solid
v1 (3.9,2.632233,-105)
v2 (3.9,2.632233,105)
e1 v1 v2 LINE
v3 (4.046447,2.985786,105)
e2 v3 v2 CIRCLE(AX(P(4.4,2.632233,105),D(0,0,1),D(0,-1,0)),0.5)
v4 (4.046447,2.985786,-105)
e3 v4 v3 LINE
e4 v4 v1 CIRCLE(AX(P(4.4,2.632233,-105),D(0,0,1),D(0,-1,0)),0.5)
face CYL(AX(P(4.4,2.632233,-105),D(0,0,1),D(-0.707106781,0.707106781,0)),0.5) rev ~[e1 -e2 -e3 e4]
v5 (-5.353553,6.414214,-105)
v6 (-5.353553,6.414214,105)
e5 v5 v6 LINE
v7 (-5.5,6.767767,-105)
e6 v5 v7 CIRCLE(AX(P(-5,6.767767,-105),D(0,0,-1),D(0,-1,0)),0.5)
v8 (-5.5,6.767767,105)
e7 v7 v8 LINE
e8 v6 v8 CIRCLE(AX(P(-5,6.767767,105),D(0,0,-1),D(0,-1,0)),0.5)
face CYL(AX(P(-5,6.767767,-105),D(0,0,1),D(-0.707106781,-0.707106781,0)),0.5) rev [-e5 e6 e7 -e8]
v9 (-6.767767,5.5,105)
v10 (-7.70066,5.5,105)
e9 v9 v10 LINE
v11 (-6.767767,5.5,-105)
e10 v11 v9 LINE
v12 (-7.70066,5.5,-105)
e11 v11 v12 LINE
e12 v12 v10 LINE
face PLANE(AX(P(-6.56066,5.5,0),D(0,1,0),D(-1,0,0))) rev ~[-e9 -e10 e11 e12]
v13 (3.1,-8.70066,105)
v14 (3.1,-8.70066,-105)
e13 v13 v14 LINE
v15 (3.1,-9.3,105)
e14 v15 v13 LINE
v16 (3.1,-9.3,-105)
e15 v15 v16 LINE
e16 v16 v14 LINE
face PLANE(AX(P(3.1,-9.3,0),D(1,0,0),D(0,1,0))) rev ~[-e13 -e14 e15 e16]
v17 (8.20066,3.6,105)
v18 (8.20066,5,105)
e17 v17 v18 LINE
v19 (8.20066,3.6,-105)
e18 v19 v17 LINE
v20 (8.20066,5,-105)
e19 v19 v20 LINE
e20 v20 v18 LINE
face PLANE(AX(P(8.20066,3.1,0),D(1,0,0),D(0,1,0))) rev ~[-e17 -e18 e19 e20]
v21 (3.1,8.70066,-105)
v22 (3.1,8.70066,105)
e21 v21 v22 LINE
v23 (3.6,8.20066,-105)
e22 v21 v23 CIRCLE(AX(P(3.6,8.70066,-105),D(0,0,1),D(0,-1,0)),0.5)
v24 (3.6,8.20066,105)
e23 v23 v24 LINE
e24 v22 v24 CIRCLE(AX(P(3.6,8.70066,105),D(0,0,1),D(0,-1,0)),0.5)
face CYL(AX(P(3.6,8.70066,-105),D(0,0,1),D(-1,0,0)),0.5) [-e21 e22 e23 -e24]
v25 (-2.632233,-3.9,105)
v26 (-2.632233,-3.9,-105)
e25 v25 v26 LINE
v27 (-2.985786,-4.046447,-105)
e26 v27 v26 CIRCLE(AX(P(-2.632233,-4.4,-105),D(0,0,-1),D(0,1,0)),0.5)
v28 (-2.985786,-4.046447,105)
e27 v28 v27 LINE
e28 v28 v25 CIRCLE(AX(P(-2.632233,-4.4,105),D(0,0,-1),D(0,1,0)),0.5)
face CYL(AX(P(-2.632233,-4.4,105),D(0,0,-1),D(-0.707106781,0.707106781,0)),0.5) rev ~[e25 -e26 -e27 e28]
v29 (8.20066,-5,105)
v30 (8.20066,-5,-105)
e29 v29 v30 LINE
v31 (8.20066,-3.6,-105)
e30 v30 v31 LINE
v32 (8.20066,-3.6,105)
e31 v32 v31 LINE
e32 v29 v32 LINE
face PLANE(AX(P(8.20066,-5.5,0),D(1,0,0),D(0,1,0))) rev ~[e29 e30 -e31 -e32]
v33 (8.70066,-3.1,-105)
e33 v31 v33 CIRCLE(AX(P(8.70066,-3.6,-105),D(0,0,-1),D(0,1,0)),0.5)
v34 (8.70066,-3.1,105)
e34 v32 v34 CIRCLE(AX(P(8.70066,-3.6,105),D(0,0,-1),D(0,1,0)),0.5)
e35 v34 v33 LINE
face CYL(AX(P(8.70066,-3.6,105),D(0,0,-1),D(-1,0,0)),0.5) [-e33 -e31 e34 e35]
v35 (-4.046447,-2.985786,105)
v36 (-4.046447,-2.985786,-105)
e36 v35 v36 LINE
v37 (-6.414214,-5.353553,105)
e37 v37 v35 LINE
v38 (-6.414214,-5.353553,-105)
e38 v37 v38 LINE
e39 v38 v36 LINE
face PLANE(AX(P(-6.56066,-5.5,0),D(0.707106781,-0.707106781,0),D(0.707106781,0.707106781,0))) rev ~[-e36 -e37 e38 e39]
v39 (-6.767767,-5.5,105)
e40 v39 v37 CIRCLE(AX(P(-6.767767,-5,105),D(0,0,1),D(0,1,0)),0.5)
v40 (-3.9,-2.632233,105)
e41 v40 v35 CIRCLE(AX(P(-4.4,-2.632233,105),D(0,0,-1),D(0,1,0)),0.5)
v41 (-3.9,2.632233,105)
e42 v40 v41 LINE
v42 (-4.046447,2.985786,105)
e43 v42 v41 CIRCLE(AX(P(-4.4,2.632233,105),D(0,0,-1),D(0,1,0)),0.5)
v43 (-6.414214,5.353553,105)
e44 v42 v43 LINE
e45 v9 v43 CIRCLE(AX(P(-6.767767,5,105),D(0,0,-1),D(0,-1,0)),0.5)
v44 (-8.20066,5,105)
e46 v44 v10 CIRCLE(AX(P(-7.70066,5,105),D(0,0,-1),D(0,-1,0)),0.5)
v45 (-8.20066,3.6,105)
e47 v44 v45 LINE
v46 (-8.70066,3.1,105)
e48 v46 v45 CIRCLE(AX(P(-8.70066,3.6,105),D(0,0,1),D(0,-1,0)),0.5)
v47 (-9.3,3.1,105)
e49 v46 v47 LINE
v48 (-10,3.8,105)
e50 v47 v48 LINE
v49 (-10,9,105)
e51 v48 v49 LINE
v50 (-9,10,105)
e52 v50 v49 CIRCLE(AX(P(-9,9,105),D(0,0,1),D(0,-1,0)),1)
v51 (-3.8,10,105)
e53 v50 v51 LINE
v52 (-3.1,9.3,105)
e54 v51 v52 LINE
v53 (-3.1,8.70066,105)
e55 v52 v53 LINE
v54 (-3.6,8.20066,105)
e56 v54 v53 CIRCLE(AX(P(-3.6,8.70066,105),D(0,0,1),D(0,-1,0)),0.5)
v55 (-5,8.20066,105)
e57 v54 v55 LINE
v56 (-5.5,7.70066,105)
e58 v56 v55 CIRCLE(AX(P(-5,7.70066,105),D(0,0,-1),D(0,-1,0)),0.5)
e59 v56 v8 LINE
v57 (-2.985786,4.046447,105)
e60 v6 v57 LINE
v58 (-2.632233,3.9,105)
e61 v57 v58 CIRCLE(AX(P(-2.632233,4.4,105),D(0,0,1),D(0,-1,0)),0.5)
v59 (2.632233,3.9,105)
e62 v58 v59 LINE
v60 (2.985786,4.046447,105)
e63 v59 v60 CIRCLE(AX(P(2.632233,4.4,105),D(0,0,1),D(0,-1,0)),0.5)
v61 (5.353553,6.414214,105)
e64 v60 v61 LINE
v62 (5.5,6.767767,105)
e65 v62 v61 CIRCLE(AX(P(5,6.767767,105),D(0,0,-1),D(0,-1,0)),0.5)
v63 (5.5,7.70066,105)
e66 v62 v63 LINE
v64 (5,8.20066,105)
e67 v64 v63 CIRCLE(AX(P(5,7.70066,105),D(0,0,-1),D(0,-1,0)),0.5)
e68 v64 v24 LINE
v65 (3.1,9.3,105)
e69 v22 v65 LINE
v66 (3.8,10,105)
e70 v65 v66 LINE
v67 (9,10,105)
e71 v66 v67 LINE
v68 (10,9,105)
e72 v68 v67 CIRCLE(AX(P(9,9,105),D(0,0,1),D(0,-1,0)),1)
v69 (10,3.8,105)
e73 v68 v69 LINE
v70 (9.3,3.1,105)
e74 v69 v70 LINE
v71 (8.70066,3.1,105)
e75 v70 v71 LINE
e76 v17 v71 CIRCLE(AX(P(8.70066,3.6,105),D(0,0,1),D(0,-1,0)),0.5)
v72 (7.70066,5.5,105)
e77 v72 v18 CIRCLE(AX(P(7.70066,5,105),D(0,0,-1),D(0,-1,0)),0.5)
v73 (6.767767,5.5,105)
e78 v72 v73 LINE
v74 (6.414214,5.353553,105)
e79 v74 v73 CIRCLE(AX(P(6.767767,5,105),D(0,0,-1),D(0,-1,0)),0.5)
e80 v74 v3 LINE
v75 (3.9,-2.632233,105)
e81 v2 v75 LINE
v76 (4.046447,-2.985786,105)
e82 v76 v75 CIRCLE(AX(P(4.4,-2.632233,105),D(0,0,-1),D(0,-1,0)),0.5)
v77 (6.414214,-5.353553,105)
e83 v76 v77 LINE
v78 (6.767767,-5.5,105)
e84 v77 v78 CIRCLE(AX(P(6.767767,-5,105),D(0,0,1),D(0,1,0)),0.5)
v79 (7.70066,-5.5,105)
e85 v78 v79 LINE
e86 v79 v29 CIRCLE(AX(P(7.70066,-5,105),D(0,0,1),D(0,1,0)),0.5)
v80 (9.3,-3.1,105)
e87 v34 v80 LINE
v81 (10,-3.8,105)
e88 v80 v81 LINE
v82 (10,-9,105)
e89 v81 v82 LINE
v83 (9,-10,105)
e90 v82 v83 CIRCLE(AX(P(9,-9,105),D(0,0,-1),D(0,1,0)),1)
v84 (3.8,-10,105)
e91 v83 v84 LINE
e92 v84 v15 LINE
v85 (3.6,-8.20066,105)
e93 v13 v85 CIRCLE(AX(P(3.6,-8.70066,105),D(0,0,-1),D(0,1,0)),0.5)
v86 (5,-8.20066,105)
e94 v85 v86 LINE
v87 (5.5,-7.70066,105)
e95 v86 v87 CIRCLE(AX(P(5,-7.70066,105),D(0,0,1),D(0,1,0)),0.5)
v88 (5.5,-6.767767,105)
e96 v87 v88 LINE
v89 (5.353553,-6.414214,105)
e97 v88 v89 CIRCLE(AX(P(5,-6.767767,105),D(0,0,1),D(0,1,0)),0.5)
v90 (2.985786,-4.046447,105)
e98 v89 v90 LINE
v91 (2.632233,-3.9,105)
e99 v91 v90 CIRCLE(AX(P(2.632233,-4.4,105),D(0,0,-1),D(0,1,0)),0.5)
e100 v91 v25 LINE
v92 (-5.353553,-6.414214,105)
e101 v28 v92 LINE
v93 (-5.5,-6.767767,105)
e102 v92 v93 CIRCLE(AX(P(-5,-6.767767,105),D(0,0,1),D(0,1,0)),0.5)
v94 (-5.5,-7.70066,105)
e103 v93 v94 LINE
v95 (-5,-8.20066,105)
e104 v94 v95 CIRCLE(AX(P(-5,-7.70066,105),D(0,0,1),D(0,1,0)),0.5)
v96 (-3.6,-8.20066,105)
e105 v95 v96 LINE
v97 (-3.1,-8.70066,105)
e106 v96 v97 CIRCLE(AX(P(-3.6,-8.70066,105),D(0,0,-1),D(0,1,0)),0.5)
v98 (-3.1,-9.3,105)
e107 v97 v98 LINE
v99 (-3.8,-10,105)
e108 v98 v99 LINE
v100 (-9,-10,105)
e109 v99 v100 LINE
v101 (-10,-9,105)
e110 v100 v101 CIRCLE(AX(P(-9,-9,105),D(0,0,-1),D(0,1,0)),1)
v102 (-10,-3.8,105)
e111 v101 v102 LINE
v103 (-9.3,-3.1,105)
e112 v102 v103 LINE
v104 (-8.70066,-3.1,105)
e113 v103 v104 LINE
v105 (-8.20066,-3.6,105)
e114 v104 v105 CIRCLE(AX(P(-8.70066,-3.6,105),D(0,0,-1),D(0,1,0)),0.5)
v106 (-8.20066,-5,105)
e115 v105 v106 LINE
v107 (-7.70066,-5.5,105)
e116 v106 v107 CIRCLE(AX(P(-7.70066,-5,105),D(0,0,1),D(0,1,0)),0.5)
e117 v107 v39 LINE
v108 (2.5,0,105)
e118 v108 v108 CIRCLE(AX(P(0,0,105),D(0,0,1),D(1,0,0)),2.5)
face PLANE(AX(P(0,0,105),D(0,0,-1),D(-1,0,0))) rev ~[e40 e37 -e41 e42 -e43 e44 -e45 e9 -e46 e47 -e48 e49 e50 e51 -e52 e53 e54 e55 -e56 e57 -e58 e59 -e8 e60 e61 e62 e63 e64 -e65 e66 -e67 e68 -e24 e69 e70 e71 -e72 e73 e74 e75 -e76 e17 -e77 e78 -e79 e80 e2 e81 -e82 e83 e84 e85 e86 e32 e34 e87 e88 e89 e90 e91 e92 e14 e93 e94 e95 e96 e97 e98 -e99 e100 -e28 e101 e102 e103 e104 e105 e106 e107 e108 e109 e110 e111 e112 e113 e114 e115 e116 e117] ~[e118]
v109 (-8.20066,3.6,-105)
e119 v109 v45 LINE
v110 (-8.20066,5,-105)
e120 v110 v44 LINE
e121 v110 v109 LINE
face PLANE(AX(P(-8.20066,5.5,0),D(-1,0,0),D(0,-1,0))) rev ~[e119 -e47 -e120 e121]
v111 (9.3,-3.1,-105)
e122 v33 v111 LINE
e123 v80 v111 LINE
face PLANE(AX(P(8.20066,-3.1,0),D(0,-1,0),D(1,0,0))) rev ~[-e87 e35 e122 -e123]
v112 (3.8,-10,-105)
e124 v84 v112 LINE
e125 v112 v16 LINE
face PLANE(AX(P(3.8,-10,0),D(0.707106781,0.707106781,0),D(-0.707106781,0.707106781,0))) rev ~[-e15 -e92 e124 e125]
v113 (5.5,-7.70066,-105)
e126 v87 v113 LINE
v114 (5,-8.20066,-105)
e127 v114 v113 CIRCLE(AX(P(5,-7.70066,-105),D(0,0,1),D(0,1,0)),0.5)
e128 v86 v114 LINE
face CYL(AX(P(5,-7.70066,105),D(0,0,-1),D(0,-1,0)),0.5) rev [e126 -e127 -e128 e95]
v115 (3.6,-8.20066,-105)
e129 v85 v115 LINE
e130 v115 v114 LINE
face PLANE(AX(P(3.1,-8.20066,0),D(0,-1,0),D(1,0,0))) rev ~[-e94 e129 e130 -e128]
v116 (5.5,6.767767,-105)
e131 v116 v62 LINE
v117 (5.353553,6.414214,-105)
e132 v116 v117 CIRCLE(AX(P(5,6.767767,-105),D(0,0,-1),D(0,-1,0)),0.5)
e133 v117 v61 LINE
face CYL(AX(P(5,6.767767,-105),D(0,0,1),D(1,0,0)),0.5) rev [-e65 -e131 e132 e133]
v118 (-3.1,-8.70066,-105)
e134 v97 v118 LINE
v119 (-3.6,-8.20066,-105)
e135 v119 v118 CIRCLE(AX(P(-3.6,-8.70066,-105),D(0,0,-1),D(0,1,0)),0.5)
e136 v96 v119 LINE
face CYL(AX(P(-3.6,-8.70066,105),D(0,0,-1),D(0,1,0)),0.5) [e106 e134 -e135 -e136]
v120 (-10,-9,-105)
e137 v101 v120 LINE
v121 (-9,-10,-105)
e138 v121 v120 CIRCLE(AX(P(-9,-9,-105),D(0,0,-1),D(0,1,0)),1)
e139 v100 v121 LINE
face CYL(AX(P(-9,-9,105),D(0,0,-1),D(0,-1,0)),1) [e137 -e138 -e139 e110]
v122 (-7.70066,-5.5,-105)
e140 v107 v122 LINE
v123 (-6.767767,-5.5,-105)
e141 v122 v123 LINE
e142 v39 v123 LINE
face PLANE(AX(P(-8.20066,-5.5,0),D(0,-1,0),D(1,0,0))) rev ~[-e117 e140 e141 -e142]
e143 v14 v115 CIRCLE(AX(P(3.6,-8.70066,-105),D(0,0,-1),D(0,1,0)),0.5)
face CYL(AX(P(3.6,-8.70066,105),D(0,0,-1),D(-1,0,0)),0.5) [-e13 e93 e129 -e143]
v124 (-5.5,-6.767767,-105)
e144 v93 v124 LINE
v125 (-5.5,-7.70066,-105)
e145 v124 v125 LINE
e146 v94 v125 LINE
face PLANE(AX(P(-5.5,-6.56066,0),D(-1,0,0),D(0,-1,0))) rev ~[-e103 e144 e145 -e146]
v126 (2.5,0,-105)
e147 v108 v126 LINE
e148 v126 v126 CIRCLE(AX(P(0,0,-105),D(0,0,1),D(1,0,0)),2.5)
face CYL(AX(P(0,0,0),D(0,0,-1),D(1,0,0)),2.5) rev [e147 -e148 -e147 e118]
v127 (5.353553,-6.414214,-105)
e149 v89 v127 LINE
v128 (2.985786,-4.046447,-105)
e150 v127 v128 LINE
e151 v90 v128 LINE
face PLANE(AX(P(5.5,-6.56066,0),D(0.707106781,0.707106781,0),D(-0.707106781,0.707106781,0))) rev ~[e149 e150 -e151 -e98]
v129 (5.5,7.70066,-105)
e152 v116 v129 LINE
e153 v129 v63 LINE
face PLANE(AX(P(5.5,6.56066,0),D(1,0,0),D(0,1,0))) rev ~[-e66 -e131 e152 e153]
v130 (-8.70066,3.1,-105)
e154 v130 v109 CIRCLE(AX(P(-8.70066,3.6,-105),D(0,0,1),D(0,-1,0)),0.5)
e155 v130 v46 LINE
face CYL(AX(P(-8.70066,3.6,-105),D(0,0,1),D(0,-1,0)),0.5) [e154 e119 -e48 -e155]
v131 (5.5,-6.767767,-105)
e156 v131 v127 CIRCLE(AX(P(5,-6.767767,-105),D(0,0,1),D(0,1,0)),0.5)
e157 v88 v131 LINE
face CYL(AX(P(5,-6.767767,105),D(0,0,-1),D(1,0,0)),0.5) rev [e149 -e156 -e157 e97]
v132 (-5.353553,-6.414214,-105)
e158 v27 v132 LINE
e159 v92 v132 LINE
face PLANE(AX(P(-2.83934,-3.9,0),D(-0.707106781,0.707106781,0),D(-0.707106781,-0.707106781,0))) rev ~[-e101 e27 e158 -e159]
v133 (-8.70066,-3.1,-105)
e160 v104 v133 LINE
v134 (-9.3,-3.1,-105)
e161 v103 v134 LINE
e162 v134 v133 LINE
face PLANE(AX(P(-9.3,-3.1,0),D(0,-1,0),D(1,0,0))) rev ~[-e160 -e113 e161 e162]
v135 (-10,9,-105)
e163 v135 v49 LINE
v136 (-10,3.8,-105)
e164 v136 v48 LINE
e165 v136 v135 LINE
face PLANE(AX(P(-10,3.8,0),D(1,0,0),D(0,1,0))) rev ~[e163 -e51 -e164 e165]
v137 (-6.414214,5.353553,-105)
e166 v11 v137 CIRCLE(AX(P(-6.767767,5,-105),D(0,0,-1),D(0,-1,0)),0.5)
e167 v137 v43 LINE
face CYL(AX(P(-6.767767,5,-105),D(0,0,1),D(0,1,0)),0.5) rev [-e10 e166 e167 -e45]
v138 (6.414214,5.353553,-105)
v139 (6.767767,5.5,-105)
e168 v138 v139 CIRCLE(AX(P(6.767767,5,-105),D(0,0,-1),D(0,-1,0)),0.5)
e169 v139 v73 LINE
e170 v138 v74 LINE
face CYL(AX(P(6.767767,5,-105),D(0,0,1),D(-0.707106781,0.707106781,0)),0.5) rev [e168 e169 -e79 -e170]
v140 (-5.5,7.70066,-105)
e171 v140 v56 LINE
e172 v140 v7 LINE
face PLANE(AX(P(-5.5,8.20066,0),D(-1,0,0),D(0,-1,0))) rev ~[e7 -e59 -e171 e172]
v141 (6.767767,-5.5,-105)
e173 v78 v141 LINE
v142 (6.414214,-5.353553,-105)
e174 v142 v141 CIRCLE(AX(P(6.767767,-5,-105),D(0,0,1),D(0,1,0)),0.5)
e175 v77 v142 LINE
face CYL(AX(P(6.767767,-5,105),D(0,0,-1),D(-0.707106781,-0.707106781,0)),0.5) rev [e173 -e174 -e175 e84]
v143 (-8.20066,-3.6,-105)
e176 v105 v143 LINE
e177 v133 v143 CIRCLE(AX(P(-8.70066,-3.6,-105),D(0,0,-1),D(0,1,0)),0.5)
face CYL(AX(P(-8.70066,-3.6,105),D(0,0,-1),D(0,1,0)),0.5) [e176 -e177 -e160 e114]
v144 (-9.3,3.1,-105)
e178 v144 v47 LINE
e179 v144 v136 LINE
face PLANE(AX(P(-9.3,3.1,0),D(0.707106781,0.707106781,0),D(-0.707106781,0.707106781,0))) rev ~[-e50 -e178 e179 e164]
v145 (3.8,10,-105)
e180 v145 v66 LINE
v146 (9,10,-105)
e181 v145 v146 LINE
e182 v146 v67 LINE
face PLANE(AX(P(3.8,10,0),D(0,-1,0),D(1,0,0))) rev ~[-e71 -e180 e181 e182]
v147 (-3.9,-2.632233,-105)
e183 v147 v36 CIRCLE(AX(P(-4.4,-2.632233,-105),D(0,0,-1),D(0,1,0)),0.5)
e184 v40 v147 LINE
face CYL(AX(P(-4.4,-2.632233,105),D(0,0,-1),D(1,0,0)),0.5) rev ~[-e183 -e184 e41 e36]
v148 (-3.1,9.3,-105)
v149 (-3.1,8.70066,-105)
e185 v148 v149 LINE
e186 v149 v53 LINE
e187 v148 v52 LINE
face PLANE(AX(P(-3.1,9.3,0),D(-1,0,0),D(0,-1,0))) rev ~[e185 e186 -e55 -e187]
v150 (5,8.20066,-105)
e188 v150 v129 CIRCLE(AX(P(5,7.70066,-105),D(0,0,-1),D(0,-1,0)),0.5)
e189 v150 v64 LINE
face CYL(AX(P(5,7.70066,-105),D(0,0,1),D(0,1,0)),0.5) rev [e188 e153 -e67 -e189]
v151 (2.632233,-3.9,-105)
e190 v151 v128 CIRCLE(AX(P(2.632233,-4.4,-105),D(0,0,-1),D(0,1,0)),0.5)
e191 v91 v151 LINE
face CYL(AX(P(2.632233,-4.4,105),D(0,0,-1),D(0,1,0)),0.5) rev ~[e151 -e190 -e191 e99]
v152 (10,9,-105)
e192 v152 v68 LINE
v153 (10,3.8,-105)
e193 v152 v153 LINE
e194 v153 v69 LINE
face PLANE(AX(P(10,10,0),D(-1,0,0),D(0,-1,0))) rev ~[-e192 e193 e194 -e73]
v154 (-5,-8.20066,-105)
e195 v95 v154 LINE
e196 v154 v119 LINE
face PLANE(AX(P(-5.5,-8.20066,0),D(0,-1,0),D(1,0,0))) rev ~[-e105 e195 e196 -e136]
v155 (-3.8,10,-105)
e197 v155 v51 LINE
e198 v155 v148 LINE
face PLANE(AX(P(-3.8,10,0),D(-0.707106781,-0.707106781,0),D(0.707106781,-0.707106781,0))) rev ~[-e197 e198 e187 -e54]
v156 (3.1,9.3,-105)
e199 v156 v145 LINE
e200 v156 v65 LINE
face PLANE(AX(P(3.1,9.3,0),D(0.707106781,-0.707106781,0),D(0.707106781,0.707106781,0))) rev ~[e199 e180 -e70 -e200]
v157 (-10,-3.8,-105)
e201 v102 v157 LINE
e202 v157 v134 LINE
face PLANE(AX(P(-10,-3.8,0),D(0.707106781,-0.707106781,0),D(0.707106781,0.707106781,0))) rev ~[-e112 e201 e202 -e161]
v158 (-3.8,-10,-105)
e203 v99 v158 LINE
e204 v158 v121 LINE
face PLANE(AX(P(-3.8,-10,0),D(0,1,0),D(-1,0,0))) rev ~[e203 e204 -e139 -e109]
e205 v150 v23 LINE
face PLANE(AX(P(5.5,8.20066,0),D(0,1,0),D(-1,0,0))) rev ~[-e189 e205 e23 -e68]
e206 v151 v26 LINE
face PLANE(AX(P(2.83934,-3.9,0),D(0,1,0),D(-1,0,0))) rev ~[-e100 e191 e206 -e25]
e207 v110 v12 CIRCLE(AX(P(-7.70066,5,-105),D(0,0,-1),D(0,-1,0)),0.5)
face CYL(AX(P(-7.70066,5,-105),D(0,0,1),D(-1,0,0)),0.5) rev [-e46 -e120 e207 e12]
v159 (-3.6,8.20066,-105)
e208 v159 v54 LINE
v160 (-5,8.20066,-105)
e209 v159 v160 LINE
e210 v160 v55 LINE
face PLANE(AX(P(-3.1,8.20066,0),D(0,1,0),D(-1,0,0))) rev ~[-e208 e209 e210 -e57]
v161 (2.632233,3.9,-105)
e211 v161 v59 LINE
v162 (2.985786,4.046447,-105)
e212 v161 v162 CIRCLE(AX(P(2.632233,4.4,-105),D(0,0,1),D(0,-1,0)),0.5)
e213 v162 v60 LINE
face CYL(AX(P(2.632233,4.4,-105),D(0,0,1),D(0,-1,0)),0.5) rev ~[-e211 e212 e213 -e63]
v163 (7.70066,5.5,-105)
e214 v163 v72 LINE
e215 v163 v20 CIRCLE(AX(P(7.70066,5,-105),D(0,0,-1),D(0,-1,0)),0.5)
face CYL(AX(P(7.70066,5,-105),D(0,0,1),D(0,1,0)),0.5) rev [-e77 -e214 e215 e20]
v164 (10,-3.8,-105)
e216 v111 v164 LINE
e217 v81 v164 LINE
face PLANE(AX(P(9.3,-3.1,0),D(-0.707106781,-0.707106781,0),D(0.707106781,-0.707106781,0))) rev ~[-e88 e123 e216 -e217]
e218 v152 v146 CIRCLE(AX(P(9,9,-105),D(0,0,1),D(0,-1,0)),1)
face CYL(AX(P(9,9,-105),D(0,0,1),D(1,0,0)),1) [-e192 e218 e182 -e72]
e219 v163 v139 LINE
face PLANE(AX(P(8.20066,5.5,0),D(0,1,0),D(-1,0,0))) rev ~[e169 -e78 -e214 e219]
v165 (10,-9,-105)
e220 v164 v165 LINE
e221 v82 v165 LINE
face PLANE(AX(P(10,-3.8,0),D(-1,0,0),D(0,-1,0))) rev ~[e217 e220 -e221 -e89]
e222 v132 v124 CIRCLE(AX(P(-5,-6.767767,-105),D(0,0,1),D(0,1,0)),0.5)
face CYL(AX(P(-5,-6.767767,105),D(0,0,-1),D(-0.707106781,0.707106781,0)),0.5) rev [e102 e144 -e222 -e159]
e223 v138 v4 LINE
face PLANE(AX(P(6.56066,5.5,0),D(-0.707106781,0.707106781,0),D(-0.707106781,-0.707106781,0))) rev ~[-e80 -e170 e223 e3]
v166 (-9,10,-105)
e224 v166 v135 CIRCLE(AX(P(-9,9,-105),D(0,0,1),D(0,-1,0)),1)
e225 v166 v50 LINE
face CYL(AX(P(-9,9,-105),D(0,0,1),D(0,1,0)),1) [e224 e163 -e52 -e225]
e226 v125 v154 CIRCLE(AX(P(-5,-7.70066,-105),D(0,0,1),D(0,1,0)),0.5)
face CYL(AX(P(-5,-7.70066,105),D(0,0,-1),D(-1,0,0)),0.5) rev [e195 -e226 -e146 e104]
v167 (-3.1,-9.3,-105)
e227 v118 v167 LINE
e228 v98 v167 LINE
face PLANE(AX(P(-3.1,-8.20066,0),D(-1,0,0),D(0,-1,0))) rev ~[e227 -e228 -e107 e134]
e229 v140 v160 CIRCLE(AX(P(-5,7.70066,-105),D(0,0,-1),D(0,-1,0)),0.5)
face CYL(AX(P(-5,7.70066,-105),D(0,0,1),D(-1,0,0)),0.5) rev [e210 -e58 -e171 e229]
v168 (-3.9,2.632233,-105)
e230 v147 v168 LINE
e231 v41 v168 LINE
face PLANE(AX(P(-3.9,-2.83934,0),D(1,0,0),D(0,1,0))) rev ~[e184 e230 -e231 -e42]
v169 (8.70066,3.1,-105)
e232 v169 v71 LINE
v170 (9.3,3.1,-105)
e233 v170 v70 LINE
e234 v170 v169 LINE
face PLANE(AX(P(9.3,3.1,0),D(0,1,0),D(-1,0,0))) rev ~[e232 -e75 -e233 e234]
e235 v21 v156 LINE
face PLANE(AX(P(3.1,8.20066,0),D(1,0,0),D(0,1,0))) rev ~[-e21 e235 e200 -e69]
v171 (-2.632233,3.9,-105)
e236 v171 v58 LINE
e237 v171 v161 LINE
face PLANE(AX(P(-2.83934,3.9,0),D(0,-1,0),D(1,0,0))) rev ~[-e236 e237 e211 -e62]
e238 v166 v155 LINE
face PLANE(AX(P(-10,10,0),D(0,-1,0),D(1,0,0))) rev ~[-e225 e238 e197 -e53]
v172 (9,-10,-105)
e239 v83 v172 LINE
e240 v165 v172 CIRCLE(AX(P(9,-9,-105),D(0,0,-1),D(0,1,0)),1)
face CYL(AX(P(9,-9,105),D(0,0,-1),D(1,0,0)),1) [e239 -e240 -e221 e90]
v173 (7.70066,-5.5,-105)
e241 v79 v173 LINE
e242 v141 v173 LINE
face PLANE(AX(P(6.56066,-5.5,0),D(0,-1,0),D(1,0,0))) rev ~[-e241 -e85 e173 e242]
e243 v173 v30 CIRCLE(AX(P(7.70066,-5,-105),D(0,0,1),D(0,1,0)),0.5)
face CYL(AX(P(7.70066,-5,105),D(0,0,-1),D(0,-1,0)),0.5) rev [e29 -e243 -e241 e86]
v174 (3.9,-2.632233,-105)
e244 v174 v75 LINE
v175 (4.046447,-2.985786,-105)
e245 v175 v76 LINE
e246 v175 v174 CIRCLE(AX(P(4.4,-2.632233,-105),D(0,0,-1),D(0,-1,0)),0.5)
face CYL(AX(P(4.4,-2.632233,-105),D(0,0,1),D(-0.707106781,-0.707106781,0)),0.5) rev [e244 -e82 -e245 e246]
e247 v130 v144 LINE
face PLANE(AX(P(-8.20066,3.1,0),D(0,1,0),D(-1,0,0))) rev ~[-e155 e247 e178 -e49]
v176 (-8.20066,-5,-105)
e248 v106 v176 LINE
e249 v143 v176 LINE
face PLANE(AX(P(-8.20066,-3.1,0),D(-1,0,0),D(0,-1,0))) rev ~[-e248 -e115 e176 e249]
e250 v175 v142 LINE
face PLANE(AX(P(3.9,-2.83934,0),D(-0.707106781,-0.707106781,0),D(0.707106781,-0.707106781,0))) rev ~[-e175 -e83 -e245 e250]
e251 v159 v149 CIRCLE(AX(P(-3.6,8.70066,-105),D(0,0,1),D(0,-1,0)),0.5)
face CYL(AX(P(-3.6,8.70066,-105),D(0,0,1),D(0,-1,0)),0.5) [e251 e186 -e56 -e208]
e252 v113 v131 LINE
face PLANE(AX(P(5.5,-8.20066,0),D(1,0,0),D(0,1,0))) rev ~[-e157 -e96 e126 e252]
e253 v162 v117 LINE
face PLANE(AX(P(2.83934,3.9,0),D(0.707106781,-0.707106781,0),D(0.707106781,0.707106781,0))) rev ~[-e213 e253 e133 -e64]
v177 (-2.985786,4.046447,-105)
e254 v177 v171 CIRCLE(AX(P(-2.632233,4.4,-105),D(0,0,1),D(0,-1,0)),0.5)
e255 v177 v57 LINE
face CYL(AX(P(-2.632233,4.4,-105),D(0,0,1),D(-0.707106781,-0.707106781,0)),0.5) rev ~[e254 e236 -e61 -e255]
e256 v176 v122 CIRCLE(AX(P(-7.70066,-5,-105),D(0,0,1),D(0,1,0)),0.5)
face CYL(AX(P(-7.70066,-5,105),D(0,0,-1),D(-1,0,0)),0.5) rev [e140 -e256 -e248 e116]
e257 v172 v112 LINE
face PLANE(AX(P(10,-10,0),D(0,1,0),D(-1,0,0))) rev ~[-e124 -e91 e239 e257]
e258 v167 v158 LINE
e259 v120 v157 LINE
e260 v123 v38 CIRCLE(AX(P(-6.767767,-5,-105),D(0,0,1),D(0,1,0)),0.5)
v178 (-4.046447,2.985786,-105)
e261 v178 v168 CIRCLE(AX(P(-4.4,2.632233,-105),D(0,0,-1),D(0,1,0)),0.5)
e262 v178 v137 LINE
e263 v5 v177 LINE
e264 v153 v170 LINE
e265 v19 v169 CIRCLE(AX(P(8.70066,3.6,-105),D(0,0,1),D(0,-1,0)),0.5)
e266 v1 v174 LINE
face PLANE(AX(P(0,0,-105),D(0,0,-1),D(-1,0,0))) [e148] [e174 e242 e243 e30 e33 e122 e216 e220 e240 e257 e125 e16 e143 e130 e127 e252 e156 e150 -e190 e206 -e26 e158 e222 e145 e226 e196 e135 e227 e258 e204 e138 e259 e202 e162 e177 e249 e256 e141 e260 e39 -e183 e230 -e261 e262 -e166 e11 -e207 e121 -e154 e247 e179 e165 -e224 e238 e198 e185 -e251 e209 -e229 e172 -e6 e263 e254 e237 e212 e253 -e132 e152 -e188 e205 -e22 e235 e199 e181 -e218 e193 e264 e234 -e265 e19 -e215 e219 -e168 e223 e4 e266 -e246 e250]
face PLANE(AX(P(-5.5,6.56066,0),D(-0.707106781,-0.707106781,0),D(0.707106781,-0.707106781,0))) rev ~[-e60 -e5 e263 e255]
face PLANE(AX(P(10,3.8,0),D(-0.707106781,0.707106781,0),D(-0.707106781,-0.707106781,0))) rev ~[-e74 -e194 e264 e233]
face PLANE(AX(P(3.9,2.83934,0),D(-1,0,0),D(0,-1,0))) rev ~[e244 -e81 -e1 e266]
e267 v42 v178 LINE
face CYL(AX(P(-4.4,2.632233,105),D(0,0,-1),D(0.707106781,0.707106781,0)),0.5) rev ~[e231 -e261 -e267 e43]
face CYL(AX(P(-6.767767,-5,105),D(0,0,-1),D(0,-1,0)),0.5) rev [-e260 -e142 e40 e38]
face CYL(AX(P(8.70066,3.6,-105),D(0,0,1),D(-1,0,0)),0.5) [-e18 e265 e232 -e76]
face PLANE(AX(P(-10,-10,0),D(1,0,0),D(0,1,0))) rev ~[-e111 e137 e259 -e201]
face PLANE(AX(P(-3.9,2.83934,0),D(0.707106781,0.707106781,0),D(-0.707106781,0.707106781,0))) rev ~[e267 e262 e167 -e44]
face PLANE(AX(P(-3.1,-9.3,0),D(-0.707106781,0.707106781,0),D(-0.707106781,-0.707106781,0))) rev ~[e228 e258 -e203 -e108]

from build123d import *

# Parameters (mm, degrees)
SKETCH1_R           = 2.5
BOSS_EXTRUDE1_DEPTH = 105
FILLET1_R           = 0.5
FILLET2_R           = 0.5
FILLET3_R           = 1


with BuildPart() as part:
    # Sketch1 → Boss-Extrude1 (new, symmetric)
    with BuildSketch(Plane.XY):
        Polygon((3.9, -2.839339828), (6.560660172, -5.5), (8.200660172, -5.5), (8.200660172, -3.1), (9.3, -3.1), (10, -3.8), (10, -10), (3.8, -10), (3.1, -9.3), (3.1, -8.200660172), (5.5, -8.200660172), (5.5, -6.560660172), (2.839339828, -3.9), (-2.839339828, -3.9), (-5.5, -6.560660172), (-5.5, -8.200660172), (-3.1, -8.200660172), (-3.1, -9.3), (-3.8, -10), (-10, -10), (-10, -3.8), (-9.3, -3.1), (-8.200660172, -3.1), (-8.200660172, -5.5), (-6.560660172, -5.5), (-3.9, -2.839339828), (-3.9, 2.839339828), (-6.560660172, 5.5), (-8.200660172, 5.5), (-8.200660172, 3.1), (-9.3, 3.1), (-10, 3.8), (-10, 10), (-3.8, 10), (-3.1, 9.3), (-3.1, 8.200660172), (-5.5, 8.200660172), (-5.5, 6.560660172), (-2.839339828, 3.9), (2.839339828, 3.9), (5.5, 6.560660172), (5.5, 8.200660172), (3.1, 8.200660172), (3.1, 9.3), (3.8, 10), (10, 10), (10, 3.8), (9.3, 3.1), (8.200660172, 3.1), (8.200660172, 5.5), (6.560660172, 5.5), (3.9, 2.839339828), align=None)
        Circle(SKETCH1_R, mode=Mode.SUBTRACT)
    extrude(amount=BOSS_EXTRUDE1_DEPTH, both=True)

    # Fillet1
    fillet1_edges = [part.edges().sort_by_distance(p)[0] for p in [
        (-2.839339828, 3.9, 0),
        (2.839339828, 3.9, 0),
        (3.9, 2.839339828, 0),
        (3.9, -2.839339828, 0),
        (2.839339828, -3.9, 0),
        (-2.839339828, -3.9, 0),
        (-3.9, -2.839339828, 0),
        (-3.9, 2.839339828, 0),
    ]]
    fillet(fillet1_edges, radius=FILLET1_R)

    # Fillet2
    fillet2_edges = [part.edges().sort_by_distance(p)[0] for p in [
        (-5.5, 6.560660172, 0),
        (5.5, 6.560660172, 0),
        (5.5, 8.200660172, 0),
        (3.1, 8.200660172, 0),
        (8.200660172, 3.1, 0),
        (8.200660172, 5.5, 0),
        (6.560660172, 5.5, 0),
        (6.560660172, -5.5, 0),
        (8.200660172, -5.5, 0),
        (8.200660172, -3.1, 0),
        (3.1, -8.200660172, 0),
        (5.5, -8.200660172, 0),
        (5.5, -6.560660172, 0),
        (-5.5, -6.560660172, 0),
        (-5.5, -8.200660172, 0),
        (-3.1, -8.200660172, 0),
        (-8.200660172, -3.1, 0),
        (-8.200660172, -5.5, 0),
        (-6.560660172, -5.5, 0),
        (-6.560660172, 5.5, 0),
        (-8.200660172, 5.5, 0),
        (-8.200660172, 3.1, 0),
        (-3.1, 8.200660172, 0),
        (-5.5, 8.200660172, 0),
    ]]
    fillet(fillet2_edges, radius=FILLET2_R)

    # Fillet3
    fillet3_edges = [part.edges().sort_by_distance(p)[0] for p in [
        (10, 10, 0),
        (10, -10, 0),
        (-10, -10, 0),
        (-10, 10, 0),
    ]]
    fillet(fillet3_edges, radius=FILLET3_R)


solid = part.part
